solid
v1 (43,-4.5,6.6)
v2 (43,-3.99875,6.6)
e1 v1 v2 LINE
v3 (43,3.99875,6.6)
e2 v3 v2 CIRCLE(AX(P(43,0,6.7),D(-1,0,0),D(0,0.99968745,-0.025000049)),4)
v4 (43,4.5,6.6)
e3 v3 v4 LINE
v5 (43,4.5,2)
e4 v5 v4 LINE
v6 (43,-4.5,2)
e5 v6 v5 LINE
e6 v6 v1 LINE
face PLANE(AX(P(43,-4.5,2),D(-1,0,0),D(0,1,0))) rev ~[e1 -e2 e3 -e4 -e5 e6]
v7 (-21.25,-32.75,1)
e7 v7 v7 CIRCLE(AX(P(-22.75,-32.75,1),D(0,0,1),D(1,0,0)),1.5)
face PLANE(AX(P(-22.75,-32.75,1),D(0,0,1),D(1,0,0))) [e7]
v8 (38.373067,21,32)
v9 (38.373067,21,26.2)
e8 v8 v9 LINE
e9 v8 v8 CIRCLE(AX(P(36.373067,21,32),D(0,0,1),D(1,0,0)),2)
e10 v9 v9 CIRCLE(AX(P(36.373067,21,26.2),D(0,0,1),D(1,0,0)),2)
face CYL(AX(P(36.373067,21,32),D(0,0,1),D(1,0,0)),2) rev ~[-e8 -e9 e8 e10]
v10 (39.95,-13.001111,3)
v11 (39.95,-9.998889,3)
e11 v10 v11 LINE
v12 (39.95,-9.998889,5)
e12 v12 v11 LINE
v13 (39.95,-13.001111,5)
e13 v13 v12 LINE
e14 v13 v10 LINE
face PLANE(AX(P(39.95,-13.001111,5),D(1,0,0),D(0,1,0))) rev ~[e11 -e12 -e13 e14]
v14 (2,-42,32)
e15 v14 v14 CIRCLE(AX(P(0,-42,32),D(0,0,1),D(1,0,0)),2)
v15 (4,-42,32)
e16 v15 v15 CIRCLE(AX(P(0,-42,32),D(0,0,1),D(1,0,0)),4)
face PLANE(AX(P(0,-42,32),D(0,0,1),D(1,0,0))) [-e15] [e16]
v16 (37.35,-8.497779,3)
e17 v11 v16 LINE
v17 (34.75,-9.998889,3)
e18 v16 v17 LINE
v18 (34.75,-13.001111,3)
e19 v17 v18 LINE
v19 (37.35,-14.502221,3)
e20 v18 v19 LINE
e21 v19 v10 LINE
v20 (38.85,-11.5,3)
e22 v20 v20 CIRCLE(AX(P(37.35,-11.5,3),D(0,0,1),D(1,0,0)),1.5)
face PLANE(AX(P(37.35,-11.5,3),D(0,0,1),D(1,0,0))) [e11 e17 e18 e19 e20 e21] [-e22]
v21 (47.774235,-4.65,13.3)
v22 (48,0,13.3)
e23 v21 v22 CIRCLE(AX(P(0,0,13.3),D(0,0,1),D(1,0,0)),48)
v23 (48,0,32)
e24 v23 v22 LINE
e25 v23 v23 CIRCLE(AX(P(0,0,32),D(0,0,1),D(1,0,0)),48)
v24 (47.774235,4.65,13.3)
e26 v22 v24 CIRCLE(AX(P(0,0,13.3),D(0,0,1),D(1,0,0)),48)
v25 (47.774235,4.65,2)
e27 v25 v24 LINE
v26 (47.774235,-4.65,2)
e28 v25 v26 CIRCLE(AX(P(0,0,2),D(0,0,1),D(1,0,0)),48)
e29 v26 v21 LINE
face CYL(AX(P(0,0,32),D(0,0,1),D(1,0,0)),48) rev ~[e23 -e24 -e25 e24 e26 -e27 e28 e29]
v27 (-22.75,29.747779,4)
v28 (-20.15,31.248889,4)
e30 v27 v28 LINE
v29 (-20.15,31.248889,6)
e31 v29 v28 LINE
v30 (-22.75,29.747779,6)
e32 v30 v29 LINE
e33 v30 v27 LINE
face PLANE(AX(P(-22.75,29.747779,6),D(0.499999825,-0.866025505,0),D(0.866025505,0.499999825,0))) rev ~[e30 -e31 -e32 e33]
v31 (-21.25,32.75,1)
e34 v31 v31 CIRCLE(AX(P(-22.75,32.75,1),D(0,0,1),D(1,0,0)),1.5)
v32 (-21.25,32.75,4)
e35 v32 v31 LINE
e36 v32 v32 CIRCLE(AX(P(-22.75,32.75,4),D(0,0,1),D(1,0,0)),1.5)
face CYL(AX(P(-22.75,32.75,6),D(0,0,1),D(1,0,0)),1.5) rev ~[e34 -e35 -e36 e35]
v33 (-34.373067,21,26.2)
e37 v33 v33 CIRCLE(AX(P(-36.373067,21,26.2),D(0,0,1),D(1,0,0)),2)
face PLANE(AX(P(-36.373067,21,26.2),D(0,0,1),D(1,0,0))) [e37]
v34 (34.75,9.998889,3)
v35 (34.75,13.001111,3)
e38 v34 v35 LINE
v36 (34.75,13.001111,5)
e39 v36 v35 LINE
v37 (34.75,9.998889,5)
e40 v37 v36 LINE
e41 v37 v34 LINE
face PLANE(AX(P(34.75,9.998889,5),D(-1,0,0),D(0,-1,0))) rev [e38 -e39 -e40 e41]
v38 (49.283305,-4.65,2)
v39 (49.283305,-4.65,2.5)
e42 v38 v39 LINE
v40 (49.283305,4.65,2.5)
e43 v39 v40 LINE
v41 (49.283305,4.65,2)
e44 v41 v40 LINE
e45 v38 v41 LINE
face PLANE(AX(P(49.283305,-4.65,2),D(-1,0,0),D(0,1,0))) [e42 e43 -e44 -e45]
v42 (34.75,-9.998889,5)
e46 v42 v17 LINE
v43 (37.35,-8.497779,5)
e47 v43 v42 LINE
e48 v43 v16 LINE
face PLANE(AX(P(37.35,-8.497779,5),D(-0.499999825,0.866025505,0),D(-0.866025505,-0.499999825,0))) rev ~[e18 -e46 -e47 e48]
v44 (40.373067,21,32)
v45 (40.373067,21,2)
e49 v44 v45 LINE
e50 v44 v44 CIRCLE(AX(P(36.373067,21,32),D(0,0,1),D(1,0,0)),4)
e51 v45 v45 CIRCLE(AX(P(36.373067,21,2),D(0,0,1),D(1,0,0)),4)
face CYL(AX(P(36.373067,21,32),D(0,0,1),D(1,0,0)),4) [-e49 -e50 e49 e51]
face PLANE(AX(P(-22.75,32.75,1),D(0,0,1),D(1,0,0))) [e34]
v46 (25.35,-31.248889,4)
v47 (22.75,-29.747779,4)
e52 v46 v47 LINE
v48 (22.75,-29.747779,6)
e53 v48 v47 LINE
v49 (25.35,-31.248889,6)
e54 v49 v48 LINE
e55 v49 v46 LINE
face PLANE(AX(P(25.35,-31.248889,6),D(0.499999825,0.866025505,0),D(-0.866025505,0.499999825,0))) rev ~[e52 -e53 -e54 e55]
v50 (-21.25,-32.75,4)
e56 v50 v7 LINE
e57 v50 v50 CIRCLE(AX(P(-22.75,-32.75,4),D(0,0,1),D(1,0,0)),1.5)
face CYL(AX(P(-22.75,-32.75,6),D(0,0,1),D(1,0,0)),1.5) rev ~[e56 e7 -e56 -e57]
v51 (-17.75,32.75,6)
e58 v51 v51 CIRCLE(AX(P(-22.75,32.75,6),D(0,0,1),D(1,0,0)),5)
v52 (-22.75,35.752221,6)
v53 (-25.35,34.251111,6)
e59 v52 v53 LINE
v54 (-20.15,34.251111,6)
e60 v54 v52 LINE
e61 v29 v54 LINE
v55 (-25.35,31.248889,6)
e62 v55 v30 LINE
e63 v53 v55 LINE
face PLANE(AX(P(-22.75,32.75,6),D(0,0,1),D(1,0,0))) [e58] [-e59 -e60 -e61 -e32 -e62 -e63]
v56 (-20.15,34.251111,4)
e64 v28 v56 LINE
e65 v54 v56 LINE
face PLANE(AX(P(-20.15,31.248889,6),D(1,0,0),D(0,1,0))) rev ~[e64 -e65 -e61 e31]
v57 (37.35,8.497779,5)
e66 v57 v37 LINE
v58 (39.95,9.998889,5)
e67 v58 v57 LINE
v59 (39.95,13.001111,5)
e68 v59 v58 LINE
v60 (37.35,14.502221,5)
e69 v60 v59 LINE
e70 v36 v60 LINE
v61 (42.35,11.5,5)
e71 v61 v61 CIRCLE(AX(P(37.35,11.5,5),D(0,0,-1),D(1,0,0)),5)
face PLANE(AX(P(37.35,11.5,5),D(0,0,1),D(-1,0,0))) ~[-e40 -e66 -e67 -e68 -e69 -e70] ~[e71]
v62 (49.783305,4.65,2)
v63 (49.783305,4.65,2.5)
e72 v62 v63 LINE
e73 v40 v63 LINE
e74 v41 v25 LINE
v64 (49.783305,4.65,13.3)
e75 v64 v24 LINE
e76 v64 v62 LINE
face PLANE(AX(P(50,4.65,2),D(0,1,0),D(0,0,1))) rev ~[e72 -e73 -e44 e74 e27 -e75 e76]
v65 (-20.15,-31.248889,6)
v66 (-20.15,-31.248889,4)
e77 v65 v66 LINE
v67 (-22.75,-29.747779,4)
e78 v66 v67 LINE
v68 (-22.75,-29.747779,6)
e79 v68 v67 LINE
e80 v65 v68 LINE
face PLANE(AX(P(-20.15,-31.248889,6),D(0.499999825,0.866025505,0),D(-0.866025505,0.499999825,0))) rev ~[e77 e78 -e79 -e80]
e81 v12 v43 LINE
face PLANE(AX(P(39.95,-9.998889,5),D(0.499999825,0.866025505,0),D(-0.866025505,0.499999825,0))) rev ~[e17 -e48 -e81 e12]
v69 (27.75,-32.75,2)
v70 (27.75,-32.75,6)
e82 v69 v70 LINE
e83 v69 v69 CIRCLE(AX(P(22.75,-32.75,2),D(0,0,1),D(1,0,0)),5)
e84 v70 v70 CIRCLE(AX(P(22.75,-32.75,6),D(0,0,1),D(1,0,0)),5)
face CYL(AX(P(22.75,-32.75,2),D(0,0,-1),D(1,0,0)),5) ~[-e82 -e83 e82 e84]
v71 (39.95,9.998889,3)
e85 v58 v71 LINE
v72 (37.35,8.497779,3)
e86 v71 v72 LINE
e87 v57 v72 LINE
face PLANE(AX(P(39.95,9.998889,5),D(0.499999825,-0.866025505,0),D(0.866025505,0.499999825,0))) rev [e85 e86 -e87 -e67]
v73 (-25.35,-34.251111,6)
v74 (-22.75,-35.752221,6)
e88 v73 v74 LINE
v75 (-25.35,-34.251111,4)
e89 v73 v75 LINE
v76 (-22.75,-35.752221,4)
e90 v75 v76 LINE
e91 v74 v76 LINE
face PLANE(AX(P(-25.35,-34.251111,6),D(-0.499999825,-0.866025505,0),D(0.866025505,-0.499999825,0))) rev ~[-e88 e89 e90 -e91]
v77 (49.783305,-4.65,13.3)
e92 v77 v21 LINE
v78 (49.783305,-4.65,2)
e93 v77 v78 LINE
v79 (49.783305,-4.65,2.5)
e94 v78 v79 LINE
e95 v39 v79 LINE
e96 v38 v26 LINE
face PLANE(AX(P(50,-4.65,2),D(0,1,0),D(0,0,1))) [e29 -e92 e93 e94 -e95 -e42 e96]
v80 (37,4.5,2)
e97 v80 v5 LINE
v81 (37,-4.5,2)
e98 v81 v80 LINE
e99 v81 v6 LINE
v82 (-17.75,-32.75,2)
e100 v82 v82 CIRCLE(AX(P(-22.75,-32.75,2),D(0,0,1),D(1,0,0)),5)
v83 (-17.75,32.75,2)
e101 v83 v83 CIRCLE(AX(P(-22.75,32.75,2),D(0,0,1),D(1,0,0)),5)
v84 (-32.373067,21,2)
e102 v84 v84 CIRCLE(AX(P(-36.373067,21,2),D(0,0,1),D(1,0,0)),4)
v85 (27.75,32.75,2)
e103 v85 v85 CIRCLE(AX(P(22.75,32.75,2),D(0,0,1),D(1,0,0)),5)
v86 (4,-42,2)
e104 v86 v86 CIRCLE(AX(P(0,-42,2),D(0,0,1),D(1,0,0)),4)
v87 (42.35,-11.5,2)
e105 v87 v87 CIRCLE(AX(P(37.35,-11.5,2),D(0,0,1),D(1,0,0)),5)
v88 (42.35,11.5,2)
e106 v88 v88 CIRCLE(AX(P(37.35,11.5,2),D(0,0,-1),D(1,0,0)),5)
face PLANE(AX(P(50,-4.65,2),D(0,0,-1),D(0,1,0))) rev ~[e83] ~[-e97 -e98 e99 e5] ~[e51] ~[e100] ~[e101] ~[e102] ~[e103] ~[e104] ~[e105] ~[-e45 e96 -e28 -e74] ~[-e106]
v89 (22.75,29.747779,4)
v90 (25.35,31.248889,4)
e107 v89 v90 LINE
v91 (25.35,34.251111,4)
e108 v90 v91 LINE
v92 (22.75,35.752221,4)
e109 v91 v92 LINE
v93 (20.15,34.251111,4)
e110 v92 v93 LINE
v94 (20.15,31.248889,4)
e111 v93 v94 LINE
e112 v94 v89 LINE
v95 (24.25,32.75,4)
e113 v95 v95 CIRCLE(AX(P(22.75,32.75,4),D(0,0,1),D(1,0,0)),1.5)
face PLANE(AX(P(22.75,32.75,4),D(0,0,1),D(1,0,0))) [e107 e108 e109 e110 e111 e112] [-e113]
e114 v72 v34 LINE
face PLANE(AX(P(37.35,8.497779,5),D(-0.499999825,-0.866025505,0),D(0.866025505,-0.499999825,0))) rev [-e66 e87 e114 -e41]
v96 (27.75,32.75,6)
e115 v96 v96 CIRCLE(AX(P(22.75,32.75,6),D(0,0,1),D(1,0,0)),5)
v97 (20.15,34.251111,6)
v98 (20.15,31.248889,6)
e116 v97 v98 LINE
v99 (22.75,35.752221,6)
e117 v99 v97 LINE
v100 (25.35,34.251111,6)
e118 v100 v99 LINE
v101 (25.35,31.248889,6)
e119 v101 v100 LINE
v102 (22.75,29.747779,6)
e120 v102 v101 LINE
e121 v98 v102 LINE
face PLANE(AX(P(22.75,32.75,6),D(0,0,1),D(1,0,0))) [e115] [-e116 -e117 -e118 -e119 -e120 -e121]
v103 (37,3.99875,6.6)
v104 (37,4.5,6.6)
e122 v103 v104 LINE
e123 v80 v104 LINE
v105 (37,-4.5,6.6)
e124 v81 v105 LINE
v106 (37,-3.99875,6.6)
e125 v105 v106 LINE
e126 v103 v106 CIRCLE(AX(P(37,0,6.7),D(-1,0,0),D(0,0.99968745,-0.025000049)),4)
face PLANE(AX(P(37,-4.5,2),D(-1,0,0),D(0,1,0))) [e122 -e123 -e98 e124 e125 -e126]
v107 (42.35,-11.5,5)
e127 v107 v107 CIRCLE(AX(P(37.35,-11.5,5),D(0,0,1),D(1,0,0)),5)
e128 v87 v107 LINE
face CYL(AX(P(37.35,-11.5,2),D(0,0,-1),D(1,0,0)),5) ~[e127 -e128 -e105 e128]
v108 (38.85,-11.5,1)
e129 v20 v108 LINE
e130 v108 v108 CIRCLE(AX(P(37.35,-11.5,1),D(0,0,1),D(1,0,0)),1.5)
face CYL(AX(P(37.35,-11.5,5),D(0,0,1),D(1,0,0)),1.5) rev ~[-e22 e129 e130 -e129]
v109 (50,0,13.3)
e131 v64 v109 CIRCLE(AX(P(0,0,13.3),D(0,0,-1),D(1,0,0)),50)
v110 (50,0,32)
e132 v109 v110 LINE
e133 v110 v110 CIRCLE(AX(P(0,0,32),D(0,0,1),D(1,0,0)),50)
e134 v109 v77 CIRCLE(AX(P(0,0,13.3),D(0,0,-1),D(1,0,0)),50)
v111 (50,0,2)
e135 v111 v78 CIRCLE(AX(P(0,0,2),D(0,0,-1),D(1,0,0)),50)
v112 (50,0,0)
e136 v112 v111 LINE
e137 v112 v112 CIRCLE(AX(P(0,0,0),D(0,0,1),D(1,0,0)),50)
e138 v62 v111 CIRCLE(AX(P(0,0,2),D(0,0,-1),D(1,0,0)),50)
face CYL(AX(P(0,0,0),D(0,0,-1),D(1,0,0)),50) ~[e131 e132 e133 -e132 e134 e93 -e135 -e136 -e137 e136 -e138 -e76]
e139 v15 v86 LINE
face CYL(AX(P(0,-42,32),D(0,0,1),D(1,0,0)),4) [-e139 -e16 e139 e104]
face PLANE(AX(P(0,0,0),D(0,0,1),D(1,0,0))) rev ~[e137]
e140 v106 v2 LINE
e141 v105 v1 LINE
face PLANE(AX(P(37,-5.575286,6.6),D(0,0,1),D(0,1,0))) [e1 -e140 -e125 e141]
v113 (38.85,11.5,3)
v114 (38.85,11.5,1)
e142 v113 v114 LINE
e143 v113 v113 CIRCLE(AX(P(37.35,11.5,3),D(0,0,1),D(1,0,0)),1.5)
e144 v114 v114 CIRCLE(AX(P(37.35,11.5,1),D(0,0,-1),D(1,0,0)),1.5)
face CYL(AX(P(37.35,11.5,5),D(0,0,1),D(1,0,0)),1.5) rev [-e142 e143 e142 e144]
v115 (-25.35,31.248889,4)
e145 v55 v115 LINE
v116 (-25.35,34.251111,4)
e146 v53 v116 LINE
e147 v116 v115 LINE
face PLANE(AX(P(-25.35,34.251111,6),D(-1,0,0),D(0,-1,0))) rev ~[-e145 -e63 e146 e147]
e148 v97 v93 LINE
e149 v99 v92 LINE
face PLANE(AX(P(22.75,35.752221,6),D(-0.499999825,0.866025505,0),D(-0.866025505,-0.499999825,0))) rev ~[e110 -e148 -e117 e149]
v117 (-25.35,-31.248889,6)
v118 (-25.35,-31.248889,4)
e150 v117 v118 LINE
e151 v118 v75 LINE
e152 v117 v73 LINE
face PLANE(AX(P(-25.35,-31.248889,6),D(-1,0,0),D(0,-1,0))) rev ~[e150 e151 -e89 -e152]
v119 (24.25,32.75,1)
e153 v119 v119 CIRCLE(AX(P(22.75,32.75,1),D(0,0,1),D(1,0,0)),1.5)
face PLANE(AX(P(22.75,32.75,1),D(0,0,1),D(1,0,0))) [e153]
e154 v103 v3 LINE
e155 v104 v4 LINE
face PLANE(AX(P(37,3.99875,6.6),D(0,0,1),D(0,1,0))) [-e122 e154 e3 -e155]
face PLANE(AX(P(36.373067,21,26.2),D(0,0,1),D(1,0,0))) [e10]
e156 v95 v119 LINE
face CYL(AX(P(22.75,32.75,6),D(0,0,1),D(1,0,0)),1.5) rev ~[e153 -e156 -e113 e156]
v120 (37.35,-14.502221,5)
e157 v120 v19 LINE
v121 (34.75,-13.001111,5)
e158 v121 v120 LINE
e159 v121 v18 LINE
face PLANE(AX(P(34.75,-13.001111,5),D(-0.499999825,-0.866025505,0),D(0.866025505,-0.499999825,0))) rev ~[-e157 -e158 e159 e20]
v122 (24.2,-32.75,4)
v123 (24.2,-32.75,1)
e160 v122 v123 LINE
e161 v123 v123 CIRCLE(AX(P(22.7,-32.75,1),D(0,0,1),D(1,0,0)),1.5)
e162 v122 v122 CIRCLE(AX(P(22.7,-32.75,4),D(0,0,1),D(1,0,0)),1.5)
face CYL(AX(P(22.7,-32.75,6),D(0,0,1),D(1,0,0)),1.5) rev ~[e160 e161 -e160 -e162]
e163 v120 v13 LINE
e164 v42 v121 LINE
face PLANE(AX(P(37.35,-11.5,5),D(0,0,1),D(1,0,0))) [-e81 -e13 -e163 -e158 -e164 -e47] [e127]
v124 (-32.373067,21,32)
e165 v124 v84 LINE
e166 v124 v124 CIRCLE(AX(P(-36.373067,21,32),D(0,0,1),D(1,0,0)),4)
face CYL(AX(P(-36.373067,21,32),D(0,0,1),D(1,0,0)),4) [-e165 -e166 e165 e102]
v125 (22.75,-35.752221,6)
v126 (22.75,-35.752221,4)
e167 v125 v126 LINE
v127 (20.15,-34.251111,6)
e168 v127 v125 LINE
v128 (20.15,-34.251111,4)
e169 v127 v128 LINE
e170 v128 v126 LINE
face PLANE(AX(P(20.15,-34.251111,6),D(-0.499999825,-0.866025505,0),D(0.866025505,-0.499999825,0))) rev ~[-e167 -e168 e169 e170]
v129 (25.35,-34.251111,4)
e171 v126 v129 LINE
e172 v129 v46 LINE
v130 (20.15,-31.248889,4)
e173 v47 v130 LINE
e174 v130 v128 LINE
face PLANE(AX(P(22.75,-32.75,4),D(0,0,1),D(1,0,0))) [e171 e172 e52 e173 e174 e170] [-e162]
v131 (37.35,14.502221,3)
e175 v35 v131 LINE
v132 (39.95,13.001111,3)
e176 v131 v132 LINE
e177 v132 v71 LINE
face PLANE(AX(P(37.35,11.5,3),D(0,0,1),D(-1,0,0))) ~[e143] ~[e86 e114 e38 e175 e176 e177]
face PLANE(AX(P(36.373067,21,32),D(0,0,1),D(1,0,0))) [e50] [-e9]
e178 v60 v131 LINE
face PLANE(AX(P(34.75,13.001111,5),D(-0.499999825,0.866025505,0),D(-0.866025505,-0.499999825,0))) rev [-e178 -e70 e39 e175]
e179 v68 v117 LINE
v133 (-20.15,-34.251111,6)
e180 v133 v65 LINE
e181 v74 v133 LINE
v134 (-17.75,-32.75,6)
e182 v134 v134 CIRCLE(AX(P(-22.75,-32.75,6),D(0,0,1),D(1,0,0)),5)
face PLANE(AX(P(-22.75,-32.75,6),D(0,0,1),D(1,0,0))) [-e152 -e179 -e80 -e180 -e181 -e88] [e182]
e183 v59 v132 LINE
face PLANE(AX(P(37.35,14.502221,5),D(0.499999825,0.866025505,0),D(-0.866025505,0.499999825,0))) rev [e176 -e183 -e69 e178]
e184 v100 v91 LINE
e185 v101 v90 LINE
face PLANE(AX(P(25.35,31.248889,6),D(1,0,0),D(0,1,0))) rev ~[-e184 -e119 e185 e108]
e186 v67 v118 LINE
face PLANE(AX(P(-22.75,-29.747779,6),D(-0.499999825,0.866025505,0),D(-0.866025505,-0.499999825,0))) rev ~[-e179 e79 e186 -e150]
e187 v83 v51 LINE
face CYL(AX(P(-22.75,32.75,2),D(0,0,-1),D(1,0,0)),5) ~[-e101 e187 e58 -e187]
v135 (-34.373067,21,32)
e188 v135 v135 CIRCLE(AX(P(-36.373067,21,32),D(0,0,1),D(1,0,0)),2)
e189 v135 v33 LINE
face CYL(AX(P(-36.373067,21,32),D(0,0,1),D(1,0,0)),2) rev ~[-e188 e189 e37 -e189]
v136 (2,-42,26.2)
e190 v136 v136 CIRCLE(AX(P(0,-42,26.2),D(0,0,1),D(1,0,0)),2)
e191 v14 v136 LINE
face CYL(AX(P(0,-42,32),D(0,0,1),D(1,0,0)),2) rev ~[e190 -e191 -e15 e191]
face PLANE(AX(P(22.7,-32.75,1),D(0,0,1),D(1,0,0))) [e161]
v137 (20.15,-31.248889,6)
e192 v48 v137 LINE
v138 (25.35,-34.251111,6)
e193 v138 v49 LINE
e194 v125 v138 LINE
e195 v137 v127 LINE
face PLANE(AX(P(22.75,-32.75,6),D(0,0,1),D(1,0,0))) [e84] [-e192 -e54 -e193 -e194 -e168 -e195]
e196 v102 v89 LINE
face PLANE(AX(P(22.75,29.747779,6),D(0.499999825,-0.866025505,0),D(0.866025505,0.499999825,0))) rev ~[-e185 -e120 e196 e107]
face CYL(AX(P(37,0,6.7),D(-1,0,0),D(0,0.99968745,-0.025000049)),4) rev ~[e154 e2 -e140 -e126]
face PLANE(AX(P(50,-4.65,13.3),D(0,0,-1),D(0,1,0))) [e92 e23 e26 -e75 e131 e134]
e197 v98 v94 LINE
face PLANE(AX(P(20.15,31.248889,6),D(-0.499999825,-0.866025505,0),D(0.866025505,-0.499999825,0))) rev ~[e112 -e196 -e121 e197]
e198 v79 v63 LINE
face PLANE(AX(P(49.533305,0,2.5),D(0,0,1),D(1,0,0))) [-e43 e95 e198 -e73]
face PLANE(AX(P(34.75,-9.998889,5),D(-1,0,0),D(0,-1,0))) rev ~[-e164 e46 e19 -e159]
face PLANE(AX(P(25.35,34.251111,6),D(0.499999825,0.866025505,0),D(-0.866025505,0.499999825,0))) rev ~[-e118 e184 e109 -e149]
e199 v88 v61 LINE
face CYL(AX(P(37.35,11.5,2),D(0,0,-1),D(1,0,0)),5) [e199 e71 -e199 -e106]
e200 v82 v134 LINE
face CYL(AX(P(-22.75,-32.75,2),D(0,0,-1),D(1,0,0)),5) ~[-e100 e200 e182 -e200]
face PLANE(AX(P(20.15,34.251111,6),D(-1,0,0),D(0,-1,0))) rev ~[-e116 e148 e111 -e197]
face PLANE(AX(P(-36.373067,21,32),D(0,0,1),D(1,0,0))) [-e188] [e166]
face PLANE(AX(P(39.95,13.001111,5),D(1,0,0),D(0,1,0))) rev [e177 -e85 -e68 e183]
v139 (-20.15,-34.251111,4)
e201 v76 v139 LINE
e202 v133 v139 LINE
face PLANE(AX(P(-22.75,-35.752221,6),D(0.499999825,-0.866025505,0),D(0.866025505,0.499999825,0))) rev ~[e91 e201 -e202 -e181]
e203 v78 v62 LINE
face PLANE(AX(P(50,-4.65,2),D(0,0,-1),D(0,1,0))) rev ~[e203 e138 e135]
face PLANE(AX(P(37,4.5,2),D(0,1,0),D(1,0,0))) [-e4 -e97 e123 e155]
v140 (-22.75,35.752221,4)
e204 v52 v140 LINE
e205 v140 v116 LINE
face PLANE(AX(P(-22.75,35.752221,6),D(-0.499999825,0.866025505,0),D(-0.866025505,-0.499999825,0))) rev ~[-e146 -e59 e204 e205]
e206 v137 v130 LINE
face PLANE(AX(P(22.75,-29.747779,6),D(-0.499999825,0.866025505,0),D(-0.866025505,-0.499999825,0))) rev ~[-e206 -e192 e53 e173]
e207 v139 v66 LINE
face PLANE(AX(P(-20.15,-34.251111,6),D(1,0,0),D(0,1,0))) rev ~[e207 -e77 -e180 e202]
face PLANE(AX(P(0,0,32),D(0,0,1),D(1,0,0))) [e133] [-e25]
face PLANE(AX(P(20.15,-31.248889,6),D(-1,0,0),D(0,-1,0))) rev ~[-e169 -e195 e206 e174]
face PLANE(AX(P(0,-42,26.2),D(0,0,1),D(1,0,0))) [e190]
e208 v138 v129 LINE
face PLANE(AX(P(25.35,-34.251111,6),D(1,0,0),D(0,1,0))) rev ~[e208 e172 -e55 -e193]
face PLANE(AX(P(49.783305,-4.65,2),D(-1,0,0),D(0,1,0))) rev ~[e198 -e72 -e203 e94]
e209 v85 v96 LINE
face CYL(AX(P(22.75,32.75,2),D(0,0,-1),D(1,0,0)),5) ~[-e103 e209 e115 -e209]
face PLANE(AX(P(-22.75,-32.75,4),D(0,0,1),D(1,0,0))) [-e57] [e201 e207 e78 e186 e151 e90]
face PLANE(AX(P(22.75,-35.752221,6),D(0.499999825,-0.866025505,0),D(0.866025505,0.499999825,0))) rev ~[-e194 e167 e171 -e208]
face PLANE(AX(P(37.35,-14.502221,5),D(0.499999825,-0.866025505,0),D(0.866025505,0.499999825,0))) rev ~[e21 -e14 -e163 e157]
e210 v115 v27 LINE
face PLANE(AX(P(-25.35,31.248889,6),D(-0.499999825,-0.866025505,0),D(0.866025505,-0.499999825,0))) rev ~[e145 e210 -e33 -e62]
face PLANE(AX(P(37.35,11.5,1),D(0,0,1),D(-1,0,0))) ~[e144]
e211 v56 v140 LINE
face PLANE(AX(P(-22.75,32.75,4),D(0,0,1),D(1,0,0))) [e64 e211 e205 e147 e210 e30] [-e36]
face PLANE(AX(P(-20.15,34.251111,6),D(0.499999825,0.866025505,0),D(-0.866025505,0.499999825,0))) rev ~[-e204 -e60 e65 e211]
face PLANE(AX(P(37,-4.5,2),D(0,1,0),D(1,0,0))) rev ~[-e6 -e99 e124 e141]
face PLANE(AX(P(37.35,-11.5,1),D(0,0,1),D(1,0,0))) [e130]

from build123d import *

# Parameters (mm, degrees)
SKETCH_R        = 50
PAD_DEPTH       = 32
SKETCH001_R     = 48
POCKET_DEPTH    = 30
SKETCH002_R     = 4
PAD001_DEPTH    = 30
SKETCH005_W     = 9.3
SKETCH005_H     = 11.3
POCKET001_DEPTH = 10
SKETCH006_W     = 6
SKETCH006_H     = 9
PAD004_DEPTH    = 10
POCKET002_DEPTH = 8
SKETCH009_R     = 5
PAD006_DEPTH    = 4
SKETCH011_W     = 0.5
SKETCH011_H     = 9.3
PAD007_DEPTH    = 0.5
SKETCH012_R     = 5
PAD008_DEPTH    = 3
POCKET004_DEPTH = 2
SKETCH014_R     = 1.5
POCKET005_DEPTH = 4
POCKET006_DEPTH = 2
SKETCH015_R     = 1.5
POCKET007_DEPTH = 5
SKETCH016_R     = 2
POCKET008_DEPTH = 5.8


with BuildPart() as part:
    # Sketch → Pad (new body)
    with BuildSketch(Plane.XY):
        Circle(SKETCH_R)
    extrude(amount=PAD_DEPTH)

    # Sketch001 (on DatumPlane) → Pocket (cut)
    with BuildSketch(Plane.XY.offset(32)):
        Circle(SKETCH001_R)
    extrude(amount=-POCKET_DEPTH, mode=Mode.SUBTRACT)

    # Sketch002 (on DatumPlane) → Pad001 (join)
    with BuildSketch(Plane.XY.offset(32)):
        with Locations((-36.373067, 21)):
            Circle(SKETCH002_R)
        with Locations((0, -42)):
            Circle(SKETCH002_R)
        with Locations((36.373067, 21)):
            Circle(SKETCH002_R)
    extrude(amount=-PAD001_DEPTH)

    # Sketch005 (on DatumPlane) → Pocket001 (cut)
    with BuildSketch(Plane.YZ.offset(50)):
        with Locations((0, 7.65)):
            Rectangle(SKETCH005_W, SKETCH005_H)
    extrude(amount=-POCKET001_DEPTH, mode=Mode.SUBTRACT)

    # Sketch006 (on DatumPlane) → Pad004 (join)
    with BuildSketch(Plane.XY.offset(2)):
        with Locations((40, 0)):
            Rectangle(SKETCH006_W, SKETCH006_H)
    extrude(amount=PAD004_DEPTH)

    # Sketch007 (on Face14 of Pad004) → Pocket002 (cut)
    with BuildSketch(Plane(origin=(37, 0, 0), x_dir=(0, -1, 0), z_dir=(-1, 0, 0))):
        with BuildLine():
            ThreePointArc((-3.99875, 6.6), (0, 2.7), (3.99875, 6.6))
            Line((5.575286, 6.6), (3.99875, 6.6))
            Line((5.575286, 15.969053), (5.575286, 6.6))
            Line((-6.906295, 15.969053), (5.575286, 15.969053))
            Line((-6.906295, 6.6), (-6.906295, 15.969053))
            Line((-3.99875, 6.6), (-6.906295, 6.6))
        make_face()
    extrude(amount=-POCKET002_DEPTH, mode=Mode.SUBTRACT)

    # Sketch009 (on DatumPlane) → Pad006 (join)
    with BuildSketch(Plane.XY.offset(2)):
        with Locations((-22.75, 32.75)):
            Circle(SKETCH009_R)
        with Locations((22.75, 32.75)):
            Circle(SKETCH009_R)
        with Locations((22.75, -32.75)):
            Circle(SKETCH009_R)
        with Locations((-22.75, -32.75)):
            Circle(SKETCH009_R)
    extrude(amount=PAD006_DEPTH)

    # Sketch011 (on DatumPlane) → Pad007 (join)
    with BuildSketch(Plane.XY.offset(2)):
        with Locations((49.533305, 0)):
            Rectangle(SKETCH011_W, SKETCH011_H)
    extrude(amount=PAD007_DEPTH)

    # Sketch012 (on DatumPlane) → Pad008 (join)
    with BuildSketch(Plane.XY.offset(2)):
        with Locations((37.35, -11.5)):
            Circle(SKETCH012_R)
    pad008 = extrude(amount=PAD008_DEPTH)

    # Sketch013 (on Face33 of Pad008) → Pocket004 (cut)
    with BuildSketch(Plane.XY.offset(5)):
        Polygon((39.95, -13.001111), (39.95, -9.998889), (37.35, -8.497779), (34.75, -9.998889), (34.75, -13.001111), (37.35, -14.502221), align=None)
    pocket004 = extrude(amount=-POCKET004_DEPTH, mode=Mode.SUBTRACT)

    # Sketch014 (on Face33 of Pocket004) → Pocket005 (cut)
    with BuildSketch(Plane.XY.offset(5)):
        with Locations((37.35, -11.5)):
            Circle(SKETCH014_R)
    pocket005 = extrude(amount=-POCKET005_DEPTH, mode=Mode.SUBTRACT)

    # Sketch010 (on DatumPlane) → Pocket006 (cut)
    with BuildSketch(Plane.XY.offset(6)):
        Polygon((-20.15, 31.248889), (-20.15, 34.251111), (-22.75, 35.752221), (-25.35, 34.251111), (-25.35, 31.248889), (-22.75, 29.747779), align=None)
        Polygon((25.35, -34.251111), (25.35, -31.248889), (22.75, -29.747779), (20.15, -31.248889), (20.15, -34.251111), (22.75, -35.752221), align=None)
        Polygon((22.75, 35.752221), (20.15, 34.251111), (20.15, 31.248889), (22.75, 29.747779), (25.35, 31.248889), (25.35, 34.251111), align=None)
        Polygon((-20.15, -31.248889), (-22.75, -29.747779), (-25.35, -31.248889), (-25.35, -34.251111), (-22.75, -35.752221), (-20.15, -34.251111), align=None)
    extrude(amount=-POCKET006_DEPTH, mode=Mode.SUBTRACT)

    # Sketch015 (on DatumPlane) → Pocket007 (cut)
    with BuildSketch(Plane.XY.offset(6)):
        with Locations((-22.75, 32.75)):
            Circle(SKETCH015_R)
        with Locations((22.75, 32.75)):
            Circle(SKETCH015_R)
        with Locations((22.7, -32.75)):
            Circle(SKETCH015_R)
        with Locations((-22.75, -32.75)):
            Circle(SKETCH015_R)
    extrude(amount=-POCKET007_DEPTH, mode=Mode.SUBTRACT)

    # Sketch016 (on DatumPlane) → Pocket008 (cut)
    with BuildSketch(Plane.XY.offset(32)):
        with Locations((-36.373067, 21)):
            Circle(SKETCH016_R)
        with Locations((36.373067, 21)):
            Circle(SKETCH016_R)
        with Locations((0, -42)):
            Circle(SKETCH016_R)
    extrude(amount=-POCKET008_DEPTH, mode=Mode.SUBTRACT)

    # Mirrored: Pad008, Pocket004, Pocket005 across Sketch012 H_Axis
    add(pad008.mirror(Plane(origin=(0, 0, 2), x_dir=(0, 0, 1), z_dir=(0, 1, 0))))
    add(pocket004.mirror(Plane(origin=(0, 0, 2), x_dir=(0, 0, 1), z_dir=(0, 1, 0))), mode=Mode.SUBTRACT)
    add(pocket005.mirror(Plane(origin=(0, 0, 2), x_dir=(0, 0, 1), z_dir=(0, 1, 0))), mode=Mode.SUBTRACT)


solid = part.part
